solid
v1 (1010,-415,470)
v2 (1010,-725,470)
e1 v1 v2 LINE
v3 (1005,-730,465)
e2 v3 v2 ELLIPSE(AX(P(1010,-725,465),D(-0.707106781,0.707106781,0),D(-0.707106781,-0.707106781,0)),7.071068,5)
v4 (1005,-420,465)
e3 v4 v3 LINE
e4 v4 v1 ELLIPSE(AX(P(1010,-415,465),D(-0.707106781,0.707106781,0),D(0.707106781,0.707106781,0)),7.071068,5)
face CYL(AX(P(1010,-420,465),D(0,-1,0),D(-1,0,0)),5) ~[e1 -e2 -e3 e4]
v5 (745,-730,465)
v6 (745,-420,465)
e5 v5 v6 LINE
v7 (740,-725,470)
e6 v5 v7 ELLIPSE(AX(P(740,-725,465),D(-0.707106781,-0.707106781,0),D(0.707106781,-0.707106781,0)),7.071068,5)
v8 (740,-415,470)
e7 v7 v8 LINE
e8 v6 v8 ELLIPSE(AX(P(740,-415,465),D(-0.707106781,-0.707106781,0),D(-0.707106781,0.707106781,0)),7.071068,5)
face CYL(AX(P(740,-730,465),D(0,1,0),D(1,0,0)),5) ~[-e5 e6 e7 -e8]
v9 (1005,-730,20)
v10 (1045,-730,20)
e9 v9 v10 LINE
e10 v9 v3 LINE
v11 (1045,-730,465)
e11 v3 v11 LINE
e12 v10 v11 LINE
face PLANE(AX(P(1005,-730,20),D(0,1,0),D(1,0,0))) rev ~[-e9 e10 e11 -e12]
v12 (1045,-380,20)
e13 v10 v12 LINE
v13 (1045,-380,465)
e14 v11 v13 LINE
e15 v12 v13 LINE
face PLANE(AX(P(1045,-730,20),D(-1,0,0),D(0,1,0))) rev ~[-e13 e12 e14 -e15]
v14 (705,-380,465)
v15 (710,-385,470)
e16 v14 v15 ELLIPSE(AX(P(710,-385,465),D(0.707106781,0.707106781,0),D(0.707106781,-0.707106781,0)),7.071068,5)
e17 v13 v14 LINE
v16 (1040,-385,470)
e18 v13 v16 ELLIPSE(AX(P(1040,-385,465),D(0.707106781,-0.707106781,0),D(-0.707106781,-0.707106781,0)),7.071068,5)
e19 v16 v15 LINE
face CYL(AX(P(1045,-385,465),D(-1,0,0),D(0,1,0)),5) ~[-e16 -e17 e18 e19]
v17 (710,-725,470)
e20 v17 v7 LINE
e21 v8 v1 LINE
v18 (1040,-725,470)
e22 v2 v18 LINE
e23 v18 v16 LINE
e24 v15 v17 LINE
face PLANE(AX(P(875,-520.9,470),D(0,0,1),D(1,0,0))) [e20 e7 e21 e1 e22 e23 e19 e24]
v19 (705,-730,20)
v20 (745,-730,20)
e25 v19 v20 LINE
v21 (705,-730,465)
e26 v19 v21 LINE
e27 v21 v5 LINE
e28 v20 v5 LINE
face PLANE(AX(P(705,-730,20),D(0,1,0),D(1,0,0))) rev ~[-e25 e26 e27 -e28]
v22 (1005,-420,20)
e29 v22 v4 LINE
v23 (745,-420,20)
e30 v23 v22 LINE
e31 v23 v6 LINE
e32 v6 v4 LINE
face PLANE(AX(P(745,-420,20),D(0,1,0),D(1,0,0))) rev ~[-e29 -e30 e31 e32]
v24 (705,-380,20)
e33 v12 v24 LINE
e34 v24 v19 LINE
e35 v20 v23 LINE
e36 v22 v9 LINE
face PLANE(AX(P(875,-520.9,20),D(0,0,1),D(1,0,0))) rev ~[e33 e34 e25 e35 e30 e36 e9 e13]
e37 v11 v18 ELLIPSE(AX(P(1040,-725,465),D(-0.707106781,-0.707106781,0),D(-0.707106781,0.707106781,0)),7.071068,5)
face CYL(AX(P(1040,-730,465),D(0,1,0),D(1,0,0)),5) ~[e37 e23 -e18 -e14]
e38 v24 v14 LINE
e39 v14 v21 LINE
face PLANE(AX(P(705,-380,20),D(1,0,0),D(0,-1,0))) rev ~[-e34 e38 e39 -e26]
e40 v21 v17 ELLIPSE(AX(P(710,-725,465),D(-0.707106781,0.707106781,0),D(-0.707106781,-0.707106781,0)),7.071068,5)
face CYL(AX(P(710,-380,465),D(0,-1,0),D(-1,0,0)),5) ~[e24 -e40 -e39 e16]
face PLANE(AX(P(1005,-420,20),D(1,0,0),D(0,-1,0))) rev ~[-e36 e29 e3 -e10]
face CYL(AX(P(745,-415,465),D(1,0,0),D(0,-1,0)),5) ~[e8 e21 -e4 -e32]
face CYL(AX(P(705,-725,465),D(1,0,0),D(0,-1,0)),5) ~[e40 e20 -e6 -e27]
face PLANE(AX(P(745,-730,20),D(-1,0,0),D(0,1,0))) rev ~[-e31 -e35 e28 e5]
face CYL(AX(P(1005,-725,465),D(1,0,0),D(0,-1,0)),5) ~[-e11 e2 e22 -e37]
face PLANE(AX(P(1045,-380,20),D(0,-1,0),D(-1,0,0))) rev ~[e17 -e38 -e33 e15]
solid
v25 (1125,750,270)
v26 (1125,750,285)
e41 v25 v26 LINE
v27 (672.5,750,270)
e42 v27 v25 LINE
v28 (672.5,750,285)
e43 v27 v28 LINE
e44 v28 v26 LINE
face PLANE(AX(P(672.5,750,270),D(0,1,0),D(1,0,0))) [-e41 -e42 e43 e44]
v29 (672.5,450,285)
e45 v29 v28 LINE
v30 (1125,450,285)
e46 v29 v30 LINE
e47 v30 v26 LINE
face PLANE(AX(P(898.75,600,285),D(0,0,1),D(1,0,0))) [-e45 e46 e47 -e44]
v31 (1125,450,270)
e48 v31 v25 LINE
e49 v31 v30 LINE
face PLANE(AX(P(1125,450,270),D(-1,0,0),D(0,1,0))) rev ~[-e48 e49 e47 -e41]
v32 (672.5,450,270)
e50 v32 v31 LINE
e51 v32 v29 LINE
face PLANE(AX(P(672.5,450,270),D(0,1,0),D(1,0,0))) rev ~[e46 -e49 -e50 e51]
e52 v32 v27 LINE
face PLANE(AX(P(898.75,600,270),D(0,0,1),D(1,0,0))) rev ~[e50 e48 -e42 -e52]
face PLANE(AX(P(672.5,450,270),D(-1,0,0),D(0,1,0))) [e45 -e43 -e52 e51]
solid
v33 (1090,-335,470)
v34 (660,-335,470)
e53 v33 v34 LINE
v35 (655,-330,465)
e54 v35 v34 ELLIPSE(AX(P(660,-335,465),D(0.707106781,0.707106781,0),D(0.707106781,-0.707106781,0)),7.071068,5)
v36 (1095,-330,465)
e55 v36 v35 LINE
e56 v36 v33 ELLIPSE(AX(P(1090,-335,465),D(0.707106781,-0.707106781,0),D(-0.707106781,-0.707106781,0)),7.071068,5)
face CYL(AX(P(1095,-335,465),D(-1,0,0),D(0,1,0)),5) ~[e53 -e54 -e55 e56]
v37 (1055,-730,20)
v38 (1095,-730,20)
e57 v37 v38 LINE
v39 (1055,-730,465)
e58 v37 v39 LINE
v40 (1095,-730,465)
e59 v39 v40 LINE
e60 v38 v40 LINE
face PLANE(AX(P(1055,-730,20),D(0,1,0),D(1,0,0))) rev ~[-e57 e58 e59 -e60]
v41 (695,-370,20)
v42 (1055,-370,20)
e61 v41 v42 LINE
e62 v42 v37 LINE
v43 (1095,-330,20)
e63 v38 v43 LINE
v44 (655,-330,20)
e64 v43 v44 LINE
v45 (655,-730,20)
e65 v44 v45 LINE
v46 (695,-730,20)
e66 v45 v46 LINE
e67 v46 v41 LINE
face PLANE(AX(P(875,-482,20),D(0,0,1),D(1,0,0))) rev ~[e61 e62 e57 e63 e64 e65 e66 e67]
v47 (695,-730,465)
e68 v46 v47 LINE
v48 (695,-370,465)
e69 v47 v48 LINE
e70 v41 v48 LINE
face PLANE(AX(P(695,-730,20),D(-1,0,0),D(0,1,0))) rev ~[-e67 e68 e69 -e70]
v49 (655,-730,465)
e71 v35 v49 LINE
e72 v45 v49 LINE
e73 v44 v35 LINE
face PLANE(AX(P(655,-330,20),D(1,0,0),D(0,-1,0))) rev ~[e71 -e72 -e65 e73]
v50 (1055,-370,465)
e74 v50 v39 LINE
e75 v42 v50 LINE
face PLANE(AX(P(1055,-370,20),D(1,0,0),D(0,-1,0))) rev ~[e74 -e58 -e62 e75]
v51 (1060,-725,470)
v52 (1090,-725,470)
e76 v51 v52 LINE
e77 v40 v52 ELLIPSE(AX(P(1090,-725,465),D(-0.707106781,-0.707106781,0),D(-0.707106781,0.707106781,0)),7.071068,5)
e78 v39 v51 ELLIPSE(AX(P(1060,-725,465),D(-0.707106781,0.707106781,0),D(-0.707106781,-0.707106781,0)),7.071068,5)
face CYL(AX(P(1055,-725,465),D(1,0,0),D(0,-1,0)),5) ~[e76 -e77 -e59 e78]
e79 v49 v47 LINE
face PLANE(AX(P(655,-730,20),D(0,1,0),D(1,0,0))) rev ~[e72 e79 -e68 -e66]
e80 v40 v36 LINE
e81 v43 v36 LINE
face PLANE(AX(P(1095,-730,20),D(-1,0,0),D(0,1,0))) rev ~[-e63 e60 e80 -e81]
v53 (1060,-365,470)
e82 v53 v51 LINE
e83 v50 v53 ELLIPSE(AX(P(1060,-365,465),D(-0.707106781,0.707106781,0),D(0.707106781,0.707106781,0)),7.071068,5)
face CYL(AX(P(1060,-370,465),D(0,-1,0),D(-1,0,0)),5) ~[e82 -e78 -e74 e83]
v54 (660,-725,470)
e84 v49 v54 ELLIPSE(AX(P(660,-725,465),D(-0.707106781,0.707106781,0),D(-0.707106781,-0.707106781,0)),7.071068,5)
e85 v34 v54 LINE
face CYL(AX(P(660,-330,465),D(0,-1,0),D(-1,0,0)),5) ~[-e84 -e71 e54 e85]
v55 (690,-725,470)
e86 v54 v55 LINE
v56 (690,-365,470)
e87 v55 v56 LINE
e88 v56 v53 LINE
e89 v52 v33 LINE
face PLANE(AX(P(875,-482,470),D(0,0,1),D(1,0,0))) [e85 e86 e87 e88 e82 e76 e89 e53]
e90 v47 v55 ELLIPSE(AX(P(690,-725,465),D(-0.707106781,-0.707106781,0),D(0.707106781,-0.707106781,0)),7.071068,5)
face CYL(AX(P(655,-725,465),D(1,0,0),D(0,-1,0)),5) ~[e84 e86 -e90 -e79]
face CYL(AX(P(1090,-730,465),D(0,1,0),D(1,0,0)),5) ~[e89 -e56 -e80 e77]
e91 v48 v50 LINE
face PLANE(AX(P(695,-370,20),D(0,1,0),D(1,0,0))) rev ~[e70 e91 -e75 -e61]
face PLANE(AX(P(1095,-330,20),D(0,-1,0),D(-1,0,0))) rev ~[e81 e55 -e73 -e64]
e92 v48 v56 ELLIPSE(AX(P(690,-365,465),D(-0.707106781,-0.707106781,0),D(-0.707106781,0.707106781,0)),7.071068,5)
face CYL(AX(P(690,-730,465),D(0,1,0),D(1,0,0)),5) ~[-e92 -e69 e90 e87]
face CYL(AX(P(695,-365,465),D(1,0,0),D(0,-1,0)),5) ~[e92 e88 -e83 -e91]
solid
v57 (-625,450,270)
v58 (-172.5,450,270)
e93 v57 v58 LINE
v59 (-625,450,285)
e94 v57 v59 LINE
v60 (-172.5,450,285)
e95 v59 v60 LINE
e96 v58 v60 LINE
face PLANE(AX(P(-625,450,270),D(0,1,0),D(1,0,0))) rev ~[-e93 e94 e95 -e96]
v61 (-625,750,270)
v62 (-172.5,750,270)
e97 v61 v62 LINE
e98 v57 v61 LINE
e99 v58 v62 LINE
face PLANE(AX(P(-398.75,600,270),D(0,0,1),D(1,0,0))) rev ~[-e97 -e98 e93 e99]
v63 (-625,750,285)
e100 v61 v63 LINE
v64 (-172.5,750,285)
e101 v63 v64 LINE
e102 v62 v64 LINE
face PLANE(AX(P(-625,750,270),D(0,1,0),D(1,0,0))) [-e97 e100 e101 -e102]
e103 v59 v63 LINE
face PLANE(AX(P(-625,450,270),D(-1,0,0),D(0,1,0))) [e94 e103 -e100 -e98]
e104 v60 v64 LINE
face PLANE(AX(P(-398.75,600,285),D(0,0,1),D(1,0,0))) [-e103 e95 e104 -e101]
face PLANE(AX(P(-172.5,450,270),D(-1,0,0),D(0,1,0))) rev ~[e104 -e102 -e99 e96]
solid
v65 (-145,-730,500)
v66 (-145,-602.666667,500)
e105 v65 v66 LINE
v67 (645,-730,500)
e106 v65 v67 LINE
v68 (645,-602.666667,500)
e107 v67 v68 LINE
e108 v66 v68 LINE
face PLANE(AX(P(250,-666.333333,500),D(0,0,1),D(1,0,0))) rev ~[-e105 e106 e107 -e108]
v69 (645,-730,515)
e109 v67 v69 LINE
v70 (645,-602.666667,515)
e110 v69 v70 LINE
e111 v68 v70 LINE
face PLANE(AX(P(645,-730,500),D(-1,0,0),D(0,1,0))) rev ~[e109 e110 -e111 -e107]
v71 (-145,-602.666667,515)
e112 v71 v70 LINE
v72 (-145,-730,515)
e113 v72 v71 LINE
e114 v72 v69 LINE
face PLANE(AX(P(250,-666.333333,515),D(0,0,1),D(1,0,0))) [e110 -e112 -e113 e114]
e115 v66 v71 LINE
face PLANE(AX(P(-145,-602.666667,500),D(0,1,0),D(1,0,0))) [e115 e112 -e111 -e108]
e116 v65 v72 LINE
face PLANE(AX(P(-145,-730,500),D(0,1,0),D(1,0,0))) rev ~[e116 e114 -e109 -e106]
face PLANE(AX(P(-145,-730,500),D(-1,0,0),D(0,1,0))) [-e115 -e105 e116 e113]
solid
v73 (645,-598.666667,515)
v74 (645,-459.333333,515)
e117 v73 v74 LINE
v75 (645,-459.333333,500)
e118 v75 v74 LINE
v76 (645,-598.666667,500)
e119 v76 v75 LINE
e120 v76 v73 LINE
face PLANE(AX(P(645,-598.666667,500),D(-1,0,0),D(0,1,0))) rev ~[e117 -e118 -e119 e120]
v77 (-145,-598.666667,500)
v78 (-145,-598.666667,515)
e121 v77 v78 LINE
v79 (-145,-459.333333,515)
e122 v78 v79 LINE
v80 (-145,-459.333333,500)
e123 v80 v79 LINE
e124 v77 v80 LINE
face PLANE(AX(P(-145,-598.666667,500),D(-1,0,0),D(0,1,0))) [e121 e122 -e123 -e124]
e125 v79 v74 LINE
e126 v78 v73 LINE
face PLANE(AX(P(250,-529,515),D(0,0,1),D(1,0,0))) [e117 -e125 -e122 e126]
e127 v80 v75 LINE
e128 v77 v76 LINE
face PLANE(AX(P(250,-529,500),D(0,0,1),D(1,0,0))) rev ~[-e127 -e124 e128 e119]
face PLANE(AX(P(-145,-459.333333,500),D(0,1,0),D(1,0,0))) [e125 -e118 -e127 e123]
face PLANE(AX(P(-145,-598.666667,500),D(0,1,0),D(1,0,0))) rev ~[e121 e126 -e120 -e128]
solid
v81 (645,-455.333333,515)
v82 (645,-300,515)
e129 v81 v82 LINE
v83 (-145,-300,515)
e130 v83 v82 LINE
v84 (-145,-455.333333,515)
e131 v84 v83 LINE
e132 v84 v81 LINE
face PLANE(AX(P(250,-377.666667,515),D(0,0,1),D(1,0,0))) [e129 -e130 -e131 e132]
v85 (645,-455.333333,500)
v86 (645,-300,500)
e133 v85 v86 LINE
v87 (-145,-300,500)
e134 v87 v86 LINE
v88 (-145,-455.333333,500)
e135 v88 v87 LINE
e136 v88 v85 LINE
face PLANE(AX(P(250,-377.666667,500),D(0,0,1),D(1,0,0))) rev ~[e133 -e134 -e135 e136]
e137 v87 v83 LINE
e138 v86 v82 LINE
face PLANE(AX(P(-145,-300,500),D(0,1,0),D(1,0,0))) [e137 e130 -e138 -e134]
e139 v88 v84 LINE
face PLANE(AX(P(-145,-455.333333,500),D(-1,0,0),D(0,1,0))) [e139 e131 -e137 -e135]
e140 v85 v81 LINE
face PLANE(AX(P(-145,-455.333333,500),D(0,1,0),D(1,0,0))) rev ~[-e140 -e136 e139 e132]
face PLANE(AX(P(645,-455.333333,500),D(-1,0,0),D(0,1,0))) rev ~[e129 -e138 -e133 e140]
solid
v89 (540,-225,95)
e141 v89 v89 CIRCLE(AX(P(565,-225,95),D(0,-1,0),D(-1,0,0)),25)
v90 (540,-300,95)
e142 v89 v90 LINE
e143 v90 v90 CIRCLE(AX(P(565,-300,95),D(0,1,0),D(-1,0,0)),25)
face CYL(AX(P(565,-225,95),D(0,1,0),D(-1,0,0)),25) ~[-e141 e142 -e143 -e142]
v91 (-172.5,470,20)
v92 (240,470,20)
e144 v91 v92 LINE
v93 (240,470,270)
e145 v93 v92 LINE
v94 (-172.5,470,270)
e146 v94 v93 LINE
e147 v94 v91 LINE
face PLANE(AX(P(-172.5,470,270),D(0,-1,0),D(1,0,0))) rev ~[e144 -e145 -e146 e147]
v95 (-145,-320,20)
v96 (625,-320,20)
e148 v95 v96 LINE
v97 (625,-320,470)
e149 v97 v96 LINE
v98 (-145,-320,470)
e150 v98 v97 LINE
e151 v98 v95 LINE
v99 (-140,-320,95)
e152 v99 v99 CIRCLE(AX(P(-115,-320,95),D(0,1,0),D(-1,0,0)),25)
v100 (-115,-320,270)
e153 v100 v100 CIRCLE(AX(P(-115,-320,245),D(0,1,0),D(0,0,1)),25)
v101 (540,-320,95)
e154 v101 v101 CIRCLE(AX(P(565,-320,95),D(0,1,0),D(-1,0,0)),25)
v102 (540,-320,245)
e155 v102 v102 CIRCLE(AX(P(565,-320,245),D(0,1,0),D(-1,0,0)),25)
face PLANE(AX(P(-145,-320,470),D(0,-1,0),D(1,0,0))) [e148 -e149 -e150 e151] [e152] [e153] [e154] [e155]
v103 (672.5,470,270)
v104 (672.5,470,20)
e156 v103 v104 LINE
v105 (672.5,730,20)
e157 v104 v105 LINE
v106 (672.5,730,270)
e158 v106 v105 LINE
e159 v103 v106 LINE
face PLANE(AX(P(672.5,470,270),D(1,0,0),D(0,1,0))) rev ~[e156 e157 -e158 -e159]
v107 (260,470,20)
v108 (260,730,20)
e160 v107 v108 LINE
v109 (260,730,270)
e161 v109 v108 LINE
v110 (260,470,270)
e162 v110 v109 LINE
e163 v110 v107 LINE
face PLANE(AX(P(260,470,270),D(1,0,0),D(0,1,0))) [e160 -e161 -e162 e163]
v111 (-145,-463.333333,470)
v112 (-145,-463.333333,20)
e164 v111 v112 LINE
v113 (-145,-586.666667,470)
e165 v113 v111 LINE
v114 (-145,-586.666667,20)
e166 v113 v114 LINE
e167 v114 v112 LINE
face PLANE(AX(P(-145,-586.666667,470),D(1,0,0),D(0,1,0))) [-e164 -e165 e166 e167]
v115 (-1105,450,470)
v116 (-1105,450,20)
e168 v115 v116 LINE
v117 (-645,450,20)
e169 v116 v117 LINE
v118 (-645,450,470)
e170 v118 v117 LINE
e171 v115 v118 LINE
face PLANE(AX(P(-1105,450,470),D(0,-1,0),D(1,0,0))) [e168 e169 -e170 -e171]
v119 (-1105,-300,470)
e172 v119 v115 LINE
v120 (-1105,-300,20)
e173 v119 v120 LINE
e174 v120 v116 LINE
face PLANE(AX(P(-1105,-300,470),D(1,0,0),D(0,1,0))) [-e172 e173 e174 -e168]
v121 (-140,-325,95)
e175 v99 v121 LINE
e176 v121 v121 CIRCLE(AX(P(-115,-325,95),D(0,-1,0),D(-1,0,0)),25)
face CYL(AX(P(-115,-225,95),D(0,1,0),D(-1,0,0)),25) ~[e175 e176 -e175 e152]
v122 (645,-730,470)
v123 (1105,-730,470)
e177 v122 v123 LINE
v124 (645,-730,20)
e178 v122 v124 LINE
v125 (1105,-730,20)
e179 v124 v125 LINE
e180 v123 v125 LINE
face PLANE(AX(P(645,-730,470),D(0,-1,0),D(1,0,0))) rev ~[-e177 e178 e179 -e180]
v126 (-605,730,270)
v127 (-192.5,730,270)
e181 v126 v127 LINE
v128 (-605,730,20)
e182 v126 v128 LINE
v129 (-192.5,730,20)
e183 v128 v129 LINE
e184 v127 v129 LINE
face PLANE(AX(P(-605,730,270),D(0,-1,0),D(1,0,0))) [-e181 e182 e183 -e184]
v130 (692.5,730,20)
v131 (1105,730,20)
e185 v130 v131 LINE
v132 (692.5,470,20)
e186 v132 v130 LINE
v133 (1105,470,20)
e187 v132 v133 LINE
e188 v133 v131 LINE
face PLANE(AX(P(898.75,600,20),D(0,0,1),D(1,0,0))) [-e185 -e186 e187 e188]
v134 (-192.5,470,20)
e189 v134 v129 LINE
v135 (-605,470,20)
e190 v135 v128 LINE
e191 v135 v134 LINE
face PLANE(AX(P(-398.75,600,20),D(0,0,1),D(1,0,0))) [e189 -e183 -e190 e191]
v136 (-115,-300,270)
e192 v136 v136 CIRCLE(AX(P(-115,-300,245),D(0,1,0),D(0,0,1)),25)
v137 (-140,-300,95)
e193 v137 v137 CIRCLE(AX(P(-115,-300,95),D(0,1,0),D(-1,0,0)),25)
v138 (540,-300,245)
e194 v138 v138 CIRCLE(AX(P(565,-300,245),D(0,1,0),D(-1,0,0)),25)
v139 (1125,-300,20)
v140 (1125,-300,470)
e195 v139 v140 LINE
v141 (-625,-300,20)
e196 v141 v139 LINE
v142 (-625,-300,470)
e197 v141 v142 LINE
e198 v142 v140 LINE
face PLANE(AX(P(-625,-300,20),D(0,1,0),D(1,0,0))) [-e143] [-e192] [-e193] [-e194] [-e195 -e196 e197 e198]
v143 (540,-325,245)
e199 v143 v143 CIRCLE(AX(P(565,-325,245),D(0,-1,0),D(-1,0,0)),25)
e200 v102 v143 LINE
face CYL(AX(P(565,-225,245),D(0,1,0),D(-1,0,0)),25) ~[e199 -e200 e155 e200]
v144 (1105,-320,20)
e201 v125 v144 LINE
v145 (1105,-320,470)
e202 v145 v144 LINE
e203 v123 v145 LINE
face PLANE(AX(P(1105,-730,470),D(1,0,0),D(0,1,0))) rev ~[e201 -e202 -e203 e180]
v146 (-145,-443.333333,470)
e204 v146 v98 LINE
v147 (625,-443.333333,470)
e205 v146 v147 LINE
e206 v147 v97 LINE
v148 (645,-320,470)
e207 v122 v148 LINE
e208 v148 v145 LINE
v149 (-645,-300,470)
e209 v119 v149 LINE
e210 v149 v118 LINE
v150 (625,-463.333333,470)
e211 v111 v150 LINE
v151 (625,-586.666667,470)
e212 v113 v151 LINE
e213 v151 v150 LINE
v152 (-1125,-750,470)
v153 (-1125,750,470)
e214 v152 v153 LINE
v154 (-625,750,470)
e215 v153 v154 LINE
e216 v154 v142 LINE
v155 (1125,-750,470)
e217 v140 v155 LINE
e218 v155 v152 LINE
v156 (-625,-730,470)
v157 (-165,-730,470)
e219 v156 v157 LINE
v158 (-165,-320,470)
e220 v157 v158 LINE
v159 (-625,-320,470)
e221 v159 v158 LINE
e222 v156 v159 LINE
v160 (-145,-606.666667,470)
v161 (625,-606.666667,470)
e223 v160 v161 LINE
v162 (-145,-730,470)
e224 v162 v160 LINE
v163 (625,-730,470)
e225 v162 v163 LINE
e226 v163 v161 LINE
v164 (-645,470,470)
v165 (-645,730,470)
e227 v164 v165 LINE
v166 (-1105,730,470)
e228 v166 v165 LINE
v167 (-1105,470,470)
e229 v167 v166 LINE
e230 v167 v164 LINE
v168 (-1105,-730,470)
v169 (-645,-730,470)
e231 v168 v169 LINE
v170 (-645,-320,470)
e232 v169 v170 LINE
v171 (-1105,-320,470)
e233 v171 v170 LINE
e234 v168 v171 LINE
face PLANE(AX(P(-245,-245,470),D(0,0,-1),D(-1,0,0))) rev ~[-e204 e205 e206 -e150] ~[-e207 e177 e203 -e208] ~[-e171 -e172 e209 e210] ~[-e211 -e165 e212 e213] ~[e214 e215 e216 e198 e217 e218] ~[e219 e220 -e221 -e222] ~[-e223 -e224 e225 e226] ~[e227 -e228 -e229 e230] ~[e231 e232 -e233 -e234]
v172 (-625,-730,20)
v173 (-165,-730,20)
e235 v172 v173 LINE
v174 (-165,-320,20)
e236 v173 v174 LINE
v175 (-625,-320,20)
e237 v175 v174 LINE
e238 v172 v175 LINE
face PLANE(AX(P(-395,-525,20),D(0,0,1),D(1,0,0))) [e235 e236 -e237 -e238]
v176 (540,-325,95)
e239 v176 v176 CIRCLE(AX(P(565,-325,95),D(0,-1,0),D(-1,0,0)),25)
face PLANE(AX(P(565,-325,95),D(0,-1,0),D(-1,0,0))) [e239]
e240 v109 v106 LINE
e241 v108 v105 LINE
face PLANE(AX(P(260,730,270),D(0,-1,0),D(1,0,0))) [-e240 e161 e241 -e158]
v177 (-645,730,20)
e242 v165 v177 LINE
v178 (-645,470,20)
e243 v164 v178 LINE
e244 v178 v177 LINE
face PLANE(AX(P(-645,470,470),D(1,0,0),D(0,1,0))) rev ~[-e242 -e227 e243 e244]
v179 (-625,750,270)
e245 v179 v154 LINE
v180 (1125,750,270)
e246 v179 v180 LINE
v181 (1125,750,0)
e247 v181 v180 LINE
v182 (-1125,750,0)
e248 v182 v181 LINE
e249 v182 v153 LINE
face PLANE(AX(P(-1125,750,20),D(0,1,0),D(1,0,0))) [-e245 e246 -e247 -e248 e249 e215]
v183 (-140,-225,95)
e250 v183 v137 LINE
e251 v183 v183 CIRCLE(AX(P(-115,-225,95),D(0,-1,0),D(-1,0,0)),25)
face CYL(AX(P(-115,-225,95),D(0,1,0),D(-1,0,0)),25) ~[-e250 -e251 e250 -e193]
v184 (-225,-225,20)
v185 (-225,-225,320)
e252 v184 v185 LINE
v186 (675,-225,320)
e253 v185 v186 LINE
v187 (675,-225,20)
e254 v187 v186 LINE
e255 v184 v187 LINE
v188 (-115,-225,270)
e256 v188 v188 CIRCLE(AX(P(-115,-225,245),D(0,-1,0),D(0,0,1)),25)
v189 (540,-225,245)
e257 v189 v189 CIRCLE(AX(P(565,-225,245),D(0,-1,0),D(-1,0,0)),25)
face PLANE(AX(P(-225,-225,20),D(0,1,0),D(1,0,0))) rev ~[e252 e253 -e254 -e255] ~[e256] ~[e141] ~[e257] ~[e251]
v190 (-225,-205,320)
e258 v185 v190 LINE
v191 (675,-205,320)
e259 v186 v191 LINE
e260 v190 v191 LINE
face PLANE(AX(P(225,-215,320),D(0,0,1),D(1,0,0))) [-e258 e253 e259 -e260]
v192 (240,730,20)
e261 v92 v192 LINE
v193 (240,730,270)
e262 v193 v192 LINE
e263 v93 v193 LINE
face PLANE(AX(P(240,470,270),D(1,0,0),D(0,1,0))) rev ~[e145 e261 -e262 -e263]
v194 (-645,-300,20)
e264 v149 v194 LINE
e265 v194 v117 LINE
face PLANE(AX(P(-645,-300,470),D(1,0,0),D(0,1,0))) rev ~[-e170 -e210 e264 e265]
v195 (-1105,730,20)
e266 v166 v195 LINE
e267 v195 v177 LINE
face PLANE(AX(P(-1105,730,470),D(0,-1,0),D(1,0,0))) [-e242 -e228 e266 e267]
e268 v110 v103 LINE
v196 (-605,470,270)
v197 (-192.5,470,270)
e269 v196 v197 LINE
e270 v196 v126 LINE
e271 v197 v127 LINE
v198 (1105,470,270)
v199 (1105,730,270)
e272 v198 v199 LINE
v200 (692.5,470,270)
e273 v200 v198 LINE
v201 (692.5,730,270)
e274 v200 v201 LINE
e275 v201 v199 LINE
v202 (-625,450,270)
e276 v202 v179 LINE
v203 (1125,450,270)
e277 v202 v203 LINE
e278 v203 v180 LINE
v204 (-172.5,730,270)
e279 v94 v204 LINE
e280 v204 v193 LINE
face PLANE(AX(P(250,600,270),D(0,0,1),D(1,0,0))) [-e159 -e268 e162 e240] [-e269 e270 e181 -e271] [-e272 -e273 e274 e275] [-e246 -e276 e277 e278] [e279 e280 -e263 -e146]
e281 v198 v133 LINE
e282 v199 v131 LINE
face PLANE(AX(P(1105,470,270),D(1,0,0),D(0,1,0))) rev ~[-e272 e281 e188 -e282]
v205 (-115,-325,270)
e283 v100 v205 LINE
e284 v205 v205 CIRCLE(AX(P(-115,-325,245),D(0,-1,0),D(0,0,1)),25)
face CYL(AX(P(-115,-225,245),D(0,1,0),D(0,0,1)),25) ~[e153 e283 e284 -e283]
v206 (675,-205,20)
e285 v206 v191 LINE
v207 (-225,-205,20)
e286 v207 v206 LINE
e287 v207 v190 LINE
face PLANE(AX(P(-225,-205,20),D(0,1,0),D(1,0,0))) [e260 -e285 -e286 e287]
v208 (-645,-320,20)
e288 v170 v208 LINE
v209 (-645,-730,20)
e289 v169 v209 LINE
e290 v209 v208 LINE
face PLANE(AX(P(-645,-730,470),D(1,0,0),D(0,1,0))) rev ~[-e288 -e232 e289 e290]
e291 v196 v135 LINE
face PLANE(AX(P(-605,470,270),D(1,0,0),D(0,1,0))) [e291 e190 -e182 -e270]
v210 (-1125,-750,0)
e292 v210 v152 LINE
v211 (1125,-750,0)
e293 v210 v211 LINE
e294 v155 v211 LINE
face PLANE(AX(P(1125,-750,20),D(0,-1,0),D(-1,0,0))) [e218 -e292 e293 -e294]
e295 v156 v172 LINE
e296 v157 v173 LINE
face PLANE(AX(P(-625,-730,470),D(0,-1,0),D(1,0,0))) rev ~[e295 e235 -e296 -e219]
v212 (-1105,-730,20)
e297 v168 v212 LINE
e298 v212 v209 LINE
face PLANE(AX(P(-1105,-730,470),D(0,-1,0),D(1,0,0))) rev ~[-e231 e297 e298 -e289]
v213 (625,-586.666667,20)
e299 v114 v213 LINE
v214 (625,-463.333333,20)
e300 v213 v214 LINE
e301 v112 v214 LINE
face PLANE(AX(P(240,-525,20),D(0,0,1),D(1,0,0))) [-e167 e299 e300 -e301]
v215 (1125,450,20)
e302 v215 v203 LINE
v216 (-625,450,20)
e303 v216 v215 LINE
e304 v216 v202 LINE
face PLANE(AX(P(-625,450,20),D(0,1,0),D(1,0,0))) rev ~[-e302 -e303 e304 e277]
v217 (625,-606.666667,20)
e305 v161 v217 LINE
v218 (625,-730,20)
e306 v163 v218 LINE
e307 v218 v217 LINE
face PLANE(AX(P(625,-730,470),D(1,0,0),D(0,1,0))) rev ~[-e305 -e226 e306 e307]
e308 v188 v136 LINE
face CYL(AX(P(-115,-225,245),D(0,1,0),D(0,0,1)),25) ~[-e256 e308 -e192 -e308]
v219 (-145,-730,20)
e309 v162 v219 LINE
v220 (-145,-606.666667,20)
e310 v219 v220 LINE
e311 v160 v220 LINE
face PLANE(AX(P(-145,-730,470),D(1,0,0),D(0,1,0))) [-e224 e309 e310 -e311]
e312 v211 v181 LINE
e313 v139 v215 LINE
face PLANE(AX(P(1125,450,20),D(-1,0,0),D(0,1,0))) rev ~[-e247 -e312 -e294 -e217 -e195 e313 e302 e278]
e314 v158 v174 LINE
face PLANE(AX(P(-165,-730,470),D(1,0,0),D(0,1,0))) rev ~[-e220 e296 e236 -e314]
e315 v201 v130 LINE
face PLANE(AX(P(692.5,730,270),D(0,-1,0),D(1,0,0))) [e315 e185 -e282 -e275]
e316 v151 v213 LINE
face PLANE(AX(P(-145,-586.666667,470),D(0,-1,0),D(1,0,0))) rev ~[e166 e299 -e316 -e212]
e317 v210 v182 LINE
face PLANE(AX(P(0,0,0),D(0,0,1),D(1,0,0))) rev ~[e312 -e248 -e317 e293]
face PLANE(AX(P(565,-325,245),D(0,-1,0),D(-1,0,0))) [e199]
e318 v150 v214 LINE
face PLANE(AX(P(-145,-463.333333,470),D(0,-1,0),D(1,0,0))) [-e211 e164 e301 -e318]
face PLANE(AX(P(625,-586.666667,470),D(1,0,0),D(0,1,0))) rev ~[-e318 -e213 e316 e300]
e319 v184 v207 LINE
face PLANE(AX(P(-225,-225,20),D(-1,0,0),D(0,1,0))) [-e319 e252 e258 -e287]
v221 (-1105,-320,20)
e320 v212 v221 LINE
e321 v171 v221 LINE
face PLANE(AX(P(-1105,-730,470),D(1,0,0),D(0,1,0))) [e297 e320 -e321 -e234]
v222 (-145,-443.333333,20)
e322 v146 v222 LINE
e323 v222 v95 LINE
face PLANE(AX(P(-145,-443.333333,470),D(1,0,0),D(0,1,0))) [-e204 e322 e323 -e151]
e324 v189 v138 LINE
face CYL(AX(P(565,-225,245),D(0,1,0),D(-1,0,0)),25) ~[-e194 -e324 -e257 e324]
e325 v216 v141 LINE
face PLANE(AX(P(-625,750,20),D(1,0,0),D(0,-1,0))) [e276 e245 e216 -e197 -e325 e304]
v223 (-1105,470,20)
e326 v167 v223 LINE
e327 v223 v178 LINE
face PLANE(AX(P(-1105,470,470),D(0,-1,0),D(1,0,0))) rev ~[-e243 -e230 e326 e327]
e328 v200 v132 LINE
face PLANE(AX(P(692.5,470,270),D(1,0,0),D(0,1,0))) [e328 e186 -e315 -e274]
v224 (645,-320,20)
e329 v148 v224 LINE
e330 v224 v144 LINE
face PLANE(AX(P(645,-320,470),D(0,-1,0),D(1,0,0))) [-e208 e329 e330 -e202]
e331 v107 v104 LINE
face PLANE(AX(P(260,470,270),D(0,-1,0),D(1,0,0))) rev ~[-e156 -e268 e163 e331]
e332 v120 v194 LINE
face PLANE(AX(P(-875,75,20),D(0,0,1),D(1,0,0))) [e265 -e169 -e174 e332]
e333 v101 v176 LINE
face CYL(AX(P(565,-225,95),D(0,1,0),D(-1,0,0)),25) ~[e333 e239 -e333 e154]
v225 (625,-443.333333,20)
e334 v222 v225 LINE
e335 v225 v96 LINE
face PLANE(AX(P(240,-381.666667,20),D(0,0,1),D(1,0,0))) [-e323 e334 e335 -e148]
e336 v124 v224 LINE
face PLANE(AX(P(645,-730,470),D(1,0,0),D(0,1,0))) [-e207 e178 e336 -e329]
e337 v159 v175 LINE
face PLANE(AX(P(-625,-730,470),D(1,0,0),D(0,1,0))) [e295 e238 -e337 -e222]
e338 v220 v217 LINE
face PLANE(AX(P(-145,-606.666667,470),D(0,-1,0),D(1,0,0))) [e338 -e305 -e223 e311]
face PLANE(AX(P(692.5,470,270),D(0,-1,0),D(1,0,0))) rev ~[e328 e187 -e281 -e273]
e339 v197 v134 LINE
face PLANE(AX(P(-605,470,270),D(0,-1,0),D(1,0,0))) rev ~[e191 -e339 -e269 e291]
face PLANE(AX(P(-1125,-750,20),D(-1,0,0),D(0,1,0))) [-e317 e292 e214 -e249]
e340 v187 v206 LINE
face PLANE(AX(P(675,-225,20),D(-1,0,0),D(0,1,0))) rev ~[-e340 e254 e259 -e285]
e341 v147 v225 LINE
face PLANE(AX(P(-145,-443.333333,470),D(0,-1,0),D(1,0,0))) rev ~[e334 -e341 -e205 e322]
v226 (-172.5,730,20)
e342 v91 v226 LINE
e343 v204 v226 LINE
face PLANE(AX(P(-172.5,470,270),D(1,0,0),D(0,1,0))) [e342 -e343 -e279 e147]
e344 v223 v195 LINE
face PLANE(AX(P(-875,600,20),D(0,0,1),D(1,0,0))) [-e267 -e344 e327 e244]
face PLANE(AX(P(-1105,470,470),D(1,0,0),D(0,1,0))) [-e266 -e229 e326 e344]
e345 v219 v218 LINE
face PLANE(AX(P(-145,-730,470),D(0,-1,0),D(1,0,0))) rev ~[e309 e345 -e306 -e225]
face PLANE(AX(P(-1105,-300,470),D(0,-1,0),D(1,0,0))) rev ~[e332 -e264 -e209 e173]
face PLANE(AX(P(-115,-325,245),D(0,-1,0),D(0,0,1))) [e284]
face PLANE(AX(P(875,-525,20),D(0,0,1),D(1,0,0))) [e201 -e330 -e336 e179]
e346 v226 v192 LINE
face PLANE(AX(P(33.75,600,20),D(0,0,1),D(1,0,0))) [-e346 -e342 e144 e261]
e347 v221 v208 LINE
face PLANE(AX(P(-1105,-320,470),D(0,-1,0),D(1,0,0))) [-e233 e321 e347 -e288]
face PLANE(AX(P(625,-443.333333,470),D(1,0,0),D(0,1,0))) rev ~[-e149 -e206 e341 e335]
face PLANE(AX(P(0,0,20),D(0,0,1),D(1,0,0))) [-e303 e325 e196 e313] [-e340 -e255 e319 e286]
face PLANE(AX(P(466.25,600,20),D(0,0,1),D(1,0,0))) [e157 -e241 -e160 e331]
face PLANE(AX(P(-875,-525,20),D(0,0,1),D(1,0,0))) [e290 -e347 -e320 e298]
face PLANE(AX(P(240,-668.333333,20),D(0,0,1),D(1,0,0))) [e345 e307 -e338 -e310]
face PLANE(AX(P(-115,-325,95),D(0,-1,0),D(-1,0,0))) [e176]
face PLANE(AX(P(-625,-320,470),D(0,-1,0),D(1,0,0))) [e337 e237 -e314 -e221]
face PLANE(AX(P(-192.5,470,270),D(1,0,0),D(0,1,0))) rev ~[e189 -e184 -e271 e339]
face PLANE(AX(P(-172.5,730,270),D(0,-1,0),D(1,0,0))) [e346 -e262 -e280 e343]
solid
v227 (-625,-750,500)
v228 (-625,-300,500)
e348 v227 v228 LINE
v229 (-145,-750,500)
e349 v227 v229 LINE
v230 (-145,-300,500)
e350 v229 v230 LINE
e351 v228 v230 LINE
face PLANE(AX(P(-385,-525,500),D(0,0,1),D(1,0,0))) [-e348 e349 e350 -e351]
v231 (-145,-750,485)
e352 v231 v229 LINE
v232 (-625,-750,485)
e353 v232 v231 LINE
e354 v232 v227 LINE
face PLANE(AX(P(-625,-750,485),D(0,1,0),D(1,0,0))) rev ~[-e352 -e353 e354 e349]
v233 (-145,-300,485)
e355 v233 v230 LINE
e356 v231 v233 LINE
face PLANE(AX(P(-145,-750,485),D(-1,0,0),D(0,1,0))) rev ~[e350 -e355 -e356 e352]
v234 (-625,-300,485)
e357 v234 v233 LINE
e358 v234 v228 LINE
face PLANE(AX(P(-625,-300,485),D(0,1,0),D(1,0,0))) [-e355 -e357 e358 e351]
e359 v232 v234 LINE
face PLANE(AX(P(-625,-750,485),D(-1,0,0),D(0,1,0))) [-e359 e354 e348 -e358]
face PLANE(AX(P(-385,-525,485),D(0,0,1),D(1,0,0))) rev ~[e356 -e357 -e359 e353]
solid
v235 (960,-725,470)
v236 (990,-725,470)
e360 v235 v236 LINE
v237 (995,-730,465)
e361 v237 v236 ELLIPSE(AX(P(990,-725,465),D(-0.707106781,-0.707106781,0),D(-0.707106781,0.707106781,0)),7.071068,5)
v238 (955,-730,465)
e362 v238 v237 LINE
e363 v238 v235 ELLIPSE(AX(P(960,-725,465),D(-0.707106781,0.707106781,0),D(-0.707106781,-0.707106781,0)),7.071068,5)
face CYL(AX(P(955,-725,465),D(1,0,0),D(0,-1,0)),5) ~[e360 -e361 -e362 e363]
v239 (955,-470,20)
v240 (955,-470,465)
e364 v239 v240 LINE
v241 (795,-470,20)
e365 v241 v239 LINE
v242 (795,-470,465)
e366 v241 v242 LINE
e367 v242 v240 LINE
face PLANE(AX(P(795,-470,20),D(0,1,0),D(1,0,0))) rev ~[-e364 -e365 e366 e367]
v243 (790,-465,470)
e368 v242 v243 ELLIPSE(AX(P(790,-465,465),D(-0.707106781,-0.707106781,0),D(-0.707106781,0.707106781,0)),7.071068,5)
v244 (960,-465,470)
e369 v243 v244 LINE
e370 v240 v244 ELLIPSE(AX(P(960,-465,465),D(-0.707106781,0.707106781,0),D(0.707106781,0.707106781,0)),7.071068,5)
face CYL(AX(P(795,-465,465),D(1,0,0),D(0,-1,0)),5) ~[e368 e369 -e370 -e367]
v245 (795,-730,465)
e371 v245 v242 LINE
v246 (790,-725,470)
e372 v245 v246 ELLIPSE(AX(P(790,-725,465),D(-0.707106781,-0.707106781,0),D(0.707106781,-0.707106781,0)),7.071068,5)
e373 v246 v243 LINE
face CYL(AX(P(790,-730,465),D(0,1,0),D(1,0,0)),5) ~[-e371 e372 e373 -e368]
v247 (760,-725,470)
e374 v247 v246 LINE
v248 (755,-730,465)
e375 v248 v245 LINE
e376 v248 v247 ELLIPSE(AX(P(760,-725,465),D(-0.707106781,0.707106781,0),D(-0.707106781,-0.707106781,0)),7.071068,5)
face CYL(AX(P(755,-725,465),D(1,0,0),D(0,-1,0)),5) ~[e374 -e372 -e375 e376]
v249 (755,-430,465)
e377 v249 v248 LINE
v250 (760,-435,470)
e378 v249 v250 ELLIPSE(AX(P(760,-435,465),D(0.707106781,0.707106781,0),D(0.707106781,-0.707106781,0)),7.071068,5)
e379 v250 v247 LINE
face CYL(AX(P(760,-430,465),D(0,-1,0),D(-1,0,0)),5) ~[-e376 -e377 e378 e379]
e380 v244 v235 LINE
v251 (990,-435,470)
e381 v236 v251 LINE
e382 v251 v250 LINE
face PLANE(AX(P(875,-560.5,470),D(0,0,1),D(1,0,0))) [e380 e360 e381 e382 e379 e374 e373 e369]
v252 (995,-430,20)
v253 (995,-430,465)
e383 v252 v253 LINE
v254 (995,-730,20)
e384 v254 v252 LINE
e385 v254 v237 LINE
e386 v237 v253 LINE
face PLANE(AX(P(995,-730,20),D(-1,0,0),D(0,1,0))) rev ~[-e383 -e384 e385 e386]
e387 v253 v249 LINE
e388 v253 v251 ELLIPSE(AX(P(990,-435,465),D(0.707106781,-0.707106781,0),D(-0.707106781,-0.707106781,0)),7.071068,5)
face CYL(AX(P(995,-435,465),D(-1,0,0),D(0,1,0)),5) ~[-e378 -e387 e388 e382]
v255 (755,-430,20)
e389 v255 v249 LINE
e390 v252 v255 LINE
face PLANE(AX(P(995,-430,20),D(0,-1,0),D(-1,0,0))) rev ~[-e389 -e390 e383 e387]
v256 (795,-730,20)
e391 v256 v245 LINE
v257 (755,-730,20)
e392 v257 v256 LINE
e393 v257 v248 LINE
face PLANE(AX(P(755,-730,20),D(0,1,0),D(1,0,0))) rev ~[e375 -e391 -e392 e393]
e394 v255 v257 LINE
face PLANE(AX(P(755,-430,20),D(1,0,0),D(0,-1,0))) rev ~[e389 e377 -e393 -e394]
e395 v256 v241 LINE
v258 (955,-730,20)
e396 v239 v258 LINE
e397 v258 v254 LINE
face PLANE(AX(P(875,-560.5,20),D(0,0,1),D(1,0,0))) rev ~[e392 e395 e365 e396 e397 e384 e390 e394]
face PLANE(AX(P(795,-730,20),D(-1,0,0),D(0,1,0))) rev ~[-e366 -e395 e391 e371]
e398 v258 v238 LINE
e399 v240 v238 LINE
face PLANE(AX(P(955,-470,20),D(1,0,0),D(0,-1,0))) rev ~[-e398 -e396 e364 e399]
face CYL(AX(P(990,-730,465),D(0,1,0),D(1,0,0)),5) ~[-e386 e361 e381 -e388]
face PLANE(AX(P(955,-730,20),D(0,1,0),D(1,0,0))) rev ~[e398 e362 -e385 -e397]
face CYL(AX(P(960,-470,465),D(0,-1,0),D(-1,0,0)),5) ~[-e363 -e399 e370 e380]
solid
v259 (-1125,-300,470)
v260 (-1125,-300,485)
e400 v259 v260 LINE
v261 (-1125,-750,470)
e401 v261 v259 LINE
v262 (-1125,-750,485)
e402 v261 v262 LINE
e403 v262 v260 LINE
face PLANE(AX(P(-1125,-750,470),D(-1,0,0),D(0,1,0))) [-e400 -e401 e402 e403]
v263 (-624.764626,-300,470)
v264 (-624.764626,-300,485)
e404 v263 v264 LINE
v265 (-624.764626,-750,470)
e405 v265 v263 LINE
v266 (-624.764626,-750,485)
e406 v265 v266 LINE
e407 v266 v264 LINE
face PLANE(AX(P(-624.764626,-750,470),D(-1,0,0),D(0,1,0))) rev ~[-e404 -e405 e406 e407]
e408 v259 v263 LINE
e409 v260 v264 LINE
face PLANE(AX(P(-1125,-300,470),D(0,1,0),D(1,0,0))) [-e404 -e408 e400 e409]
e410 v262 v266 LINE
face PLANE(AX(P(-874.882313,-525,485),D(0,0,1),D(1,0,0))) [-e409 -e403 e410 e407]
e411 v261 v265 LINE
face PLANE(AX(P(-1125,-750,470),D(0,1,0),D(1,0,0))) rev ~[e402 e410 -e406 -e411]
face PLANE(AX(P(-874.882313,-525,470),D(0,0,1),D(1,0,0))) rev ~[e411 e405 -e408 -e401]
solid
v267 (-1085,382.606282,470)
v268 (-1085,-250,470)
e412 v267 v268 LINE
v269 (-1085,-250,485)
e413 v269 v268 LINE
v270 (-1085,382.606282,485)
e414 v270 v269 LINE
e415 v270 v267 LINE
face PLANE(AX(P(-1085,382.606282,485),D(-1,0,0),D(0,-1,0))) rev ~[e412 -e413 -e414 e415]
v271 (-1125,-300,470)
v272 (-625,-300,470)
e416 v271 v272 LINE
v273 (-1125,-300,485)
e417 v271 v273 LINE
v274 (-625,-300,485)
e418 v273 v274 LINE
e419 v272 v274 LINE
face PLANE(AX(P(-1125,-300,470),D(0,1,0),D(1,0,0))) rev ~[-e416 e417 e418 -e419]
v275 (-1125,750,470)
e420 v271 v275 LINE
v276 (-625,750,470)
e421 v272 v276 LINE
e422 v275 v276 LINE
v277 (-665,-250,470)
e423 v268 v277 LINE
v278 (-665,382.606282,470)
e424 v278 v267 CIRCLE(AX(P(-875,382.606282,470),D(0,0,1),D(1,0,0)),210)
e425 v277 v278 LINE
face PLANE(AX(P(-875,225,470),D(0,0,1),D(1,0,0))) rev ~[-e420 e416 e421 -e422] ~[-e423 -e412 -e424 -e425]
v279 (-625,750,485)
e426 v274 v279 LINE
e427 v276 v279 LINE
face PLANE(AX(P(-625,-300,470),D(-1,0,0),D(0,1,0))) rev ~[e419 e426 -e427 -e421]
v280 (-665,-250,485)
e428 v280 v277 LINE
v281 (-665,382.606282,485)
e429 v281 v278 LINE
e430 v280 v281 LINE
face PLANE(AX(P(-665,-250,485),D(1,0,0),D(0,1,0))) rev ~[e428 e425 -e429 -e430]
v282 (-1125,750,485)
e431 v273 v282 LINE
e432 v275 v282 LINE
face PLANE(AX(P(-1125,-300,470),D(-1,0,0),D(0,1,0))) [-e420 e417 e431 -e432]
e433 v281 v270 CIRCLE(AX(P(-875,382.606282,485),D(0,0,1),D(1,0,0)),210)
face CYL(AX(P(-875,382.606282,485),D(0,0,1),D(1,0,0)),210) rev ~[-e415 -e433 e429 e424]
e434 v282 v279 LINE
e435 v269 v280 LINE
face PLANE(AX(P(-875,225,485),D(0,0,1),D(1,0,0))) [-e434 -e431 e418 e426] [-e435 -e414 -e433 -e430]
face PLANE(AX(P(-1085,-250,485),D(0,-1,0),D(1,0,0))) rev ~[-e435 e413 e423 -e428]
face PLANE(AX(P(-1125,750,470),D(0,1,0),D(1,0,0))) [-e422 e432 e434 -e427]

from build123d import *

# Parameters (mm, degrees)
SKETCH1_W              = 2250
SKETCH1_H              = 1500
BOSS_EXTRUDE1_DEPTH    = 20
BOSS_EXTRUDE2_DEPTH    = 450
SKETCH4_W              = 1750
SKETCH4_H              = 300
BOSS_EXTRUDE3_DEPTH    = 250
SKETCH5_W              = 412.5
SKETCH5_H              = 260
CUT_EXTRUDE1_DEPTH     = 250
SKETCH6_W              = 460
SKETCH6_H              = 260
SKETCH6_H_2            = 750
SKETCH6_H_3            = 410
SKETCH6_W_2            = 770
SKETCH6_H_4            = 123.333333333
SKETCH6_H_5            = 123.333333334
CUT_EXTRUDE2_DEPTH     = 450
SKETCH7_W              = 900
SKETCH7_H              = 20
BOSS_EXTRUDE6_DEPTH    = 300
SKETCH10_R             = 25
BOSS_EXTRUDE7_DEPTH    = 100
BOSS_EXTRUDE8_DEPTH    = 450
BOSS_EXTRUDE8_2_DEPTH  = 450
BOSS_EXTRUDE8_3_DEPTH  = 450
FILLET1_R              = 5
FILLET2_R              = 5
FILLET3_R              = 5
SKETCH13_W             = 452.5
SKETCH13_H             = 300
BOSS_EXTRUDE9_DEPTH    = 15
BOSS_EXTRUDE9_2_DEPTH  = 15
SKETCH14_W             = 500
SKETCH14_H             = 1050
BOSS_EXTRUDE10_DEPTH   = 15
SKETCH15_W             = 500.235374178
SKETCH15_H             = 450
BOSS_EXTRUDE11_DEPTH   = 15
SKETCH16_W             = 480
SKETCH16_H             = 450
BOSS_EXTRUDE12_DEPTH   = 15
SKETCH17_W             = 790
SKETCH17_H             = 155.333333333
BOSS_EXTRUDE13_DEPTH   = 15
SKETCH17_H_2           = 139.333333334
BOSS_EXTRUDE13_2_DEPTH = 15
SKETCH17_H_3           = 127.333333333
BOSS_EXTRUDE13_3_DEPTH = 15
CUT_EXTRUDE3_DEPTH     = 15


with BuildPart() as part:
    # Sketch1 → Boss-Extrude1 (new body)
    with BuildSketch(Plane.XY):
        Rectangle(SKETCH1_W, SKETCH1_H)
    extrude(amount=BOSS_EXTRUDE1_DEPTH)

    # Sketch2 → Boss-Extrude2 (add)
    with BuildSketch(Plane.XY.offset(20)):
        Polygon((-625, 750), (-625, -300), (1125, -300), (1125, -750), (-1125, -750), (-1125, 750), align=None)
    extrude(amount=BOSS_EXTRUDE2_DEPTH)

    # Sketch4 → Boss-Extrude3 (add)
    with BuildSketch(Plane.XY.offset(20)):
        with Locations((250, 600)):
            Rectangle(SKETCH4_W, SKETCH4_H)
    extrude(amount=BOSS_EXTRUDE3_DEPTH)

    # Sketch5 → Cut-Extrude1 (cut)
    with BuildSketch(Plane.XY.offset(270)):
        with Locations((-398.75, 600)):
            Rectangle(SKETCH5_W, SKETCH5_H)
        with Locations((33.75, 600)):
            Rectangle(SKETCH5_W, SKETCH5_H)
        with Locations((466.25, 600)):
            Rectangle(SKETCH5_W, SKETCH5_H)
        with Locations((898.75, 600)):
            Rectangle(SKETCH5_W, SKETCH5_H)
    extrude(amount=-CUT_EXTRUDE1_DEPTH, mode=Mode.SUBTRACT)

    # Sketch6 → Cut-Extrude2 (cut)
    with BuildSketch(Plane.XY.offset(470)):
        with Locations((-875, 600)):
            Rectangle(SKETCH6_W, SKETCH6_H)
        with Locations((-875, 75)):
            Rectangle(SKETCH6_W, SKETCH6_H_2)
        with Locations((-875, -525)):
            Rectangle(SKETCH6_W, SKETCH6_H_3)
        with Locations((-395, -525)):
            Rectangle(SKETCH6_W, SKETCH6_H_3)
        with Locations((875, -525)):
            Rectangle(SKETCH6_W, SKETCH6_H_3)
        with Locations((240, -381.666666667)):
            Rectangle(SKETCH6_W_2, SKETCH6_H_4)
        with Locations((240, -525)):
            Rectangle(SKETCH6_W_2, SKETCH6_H_5)
        with Locations((240, -668.333333334)):
            Rectangle(SKETCH6_W_2, SKETCH6_H_4)
    extrude(amount=-CUT_EXTRUDE2_DEPTH, mode=Mode.SUBTRACT)



with BuildPart() as body_2:
    # Sketch7 → Boss-Extrude6 (new body)
    with BuildSketch(Plane.XY.offset(20)):
        with Locations((225, -215)):
            Rectangle(SKETCH7_W, SKETCH7_H)
    extrude(amount=BOSS_EXTRUDE6_DEPTH)


with BuildPart() as part_1:
    add(part.part)

    add(body_2.part)  # Boss-Extrude7 merges body 2
    # Sketch10 → Boss-Extrude7 (add)
    with BuildSketch(Plane.XZ.offset(225)):
        with Locations(Location((-115, 245, 0), (0, 0, 90))):
            Circle(SKETCH10_R)
        with Locations(Location((-115, 95, 0), (0, 0, 180))):
            Circle(SKETCH10_R)
        with Locations(Location((565, 245, 0), (0, 0, 180))):
            Circle(SKETCH10_R)
        with Locations(Location((565, 95, 0), (0, 0, 180))):
            Circle(SKETCH10_R)
    extrude(amount=BOSS_EXTRUDE7_DEPTH)


with BuildPart() as body_2_2:
    # Sketch11 → Boss-Extrude8 (new body)
    with BuildSketch(Plane.XY.offset(20)):
        Polygon((1095, -330), (655, -330), (655, -730), (695, -730), (695, -370), (1055, -370), (1055, -730), (1095, -730), align=None)
    extrude(amount=BOSS_EXTRUDE8_DEPTH)

    # Fillet1
    fillet1_edges = [body_2_2.edges().sort_by_distance(p)[0] for p in [
        (655, -530, 470),
        (675, -730, 470),
        (695, -550, 470),
        (875, -330, 470),
        (1095, -530, 470),
        (875, -370, 470),
        (1055, -550, 470),
        (1075, -730, 470),
    ]]
    fillet(fillet1_edges, radius=FILLET1_R)


with BuildPart() as body_3:
    # Sketch11 → Boss-Extrude8 2 (new body)
    with BuildSketch(Plane.XY.offset(20)):
        Polygon((705, -380), (705, -730), (745, -730), (745, -420), (1005, -420), (1005, -730), (1045, -730), (1045, -380), align=None)
    extrude(amount=BOSS_EXTRUDE8_2_DEPTH)

    # Fillet2
    fillet2_edges = [body_3.edges().sort_by_distance(p)[0] for p in [
        (705, -555, 470),
        (725, -730, 470),
        (745, -575, 470),
        (875, -380, 470),
        (1045, -555, 470),
        (875, -420, 470),
        (1005, -575, 470),
        (1025, -730, 470),
    ]]
    fillet(fillet2_edges, radius=FILLET2_R)


with BuildPart() as body_4:
    # Sketch11 → Boss-Extrude8 3 (new body)
    with BuildSketch(Plane.XY.offset(20)):
        Polygon((755, -430), (755, -730), (795, -730), (795, -470), (955, -470), (955, -730), (995, -730), (995, -430), align=None)
    extrude(amount=BOSS_EXTRUDE8_3_DEPTH)

    # Fillet3
    fillet3_edges = [body_4.edges().sort_by_distance(p)[0] for p in [
        (755, -580, 470),
        (775, -730, 470),
        (795, -600, 470),
        (875, -430, 470),
        (995, -580, 470),
        (875, -470, 470),
        (955, -600, 470),
        (975, -730, 470),
    ]]
    fillet(fillet3_edges, radius=FILLET3_R)


with BuildPart() as body_5:
    # Sketch13 → Boss-Extrude9 (new body)
    with BuildSketch(Plane.XY.offset(270)):
        with Locations((-398.75, 600)):
            Rectangle(SKETCH13_W, SKETCH13_H)
    extrude(amount=BOSS_EXTRUDE9_DEPTH)


with BuildPart() as body_6:
    # Sketch13 → Boss-Extrude9 2 (new body)
    with BuildSketch(Plane.XY.offset(270)):
        with Locations((898.75, 600)):
            Rectangle(SKETCH13_W, SKETCH13_H)
    extrude(amount=BOSS_EXTRUDE9_2_DEPTH)


with BuildPart() as body_7:
    # Sketch14 → Boss-Extrude10 (new body)
    with BuildSketch(Plane.XY.offset(470)):
        with Locations((-875, 225)):
            Rectangle(SKETCH14_W, SKETCH14_H)
    extrude(amount=BOSS_EXTRUDE10_DEPTH)

    # Sketch18 → Cut-Extrude3 (cut)
    with BuildSketch(Plane.XY.offset(485)):
        with BuildLine():
            Line((-1085, 382.606281643), (-1085, -250))
            Line((-1085, -250), (-665, -250))
            Line((-665, -250), (-665, 382.606281643))
            ThreePointArc((-665, 382.606281643), (-875, 592.606281643), (-1085, 382.606281643))
        make_face()
    extrude(amount=-CUT_EXTRUDE3_DEPTH, mode=Mode.SUBTRACT)


with BuildPart() as body_8:
    # Sketch15 → Boss-Extrude11 (new body)
    with BuildSketch(Plane.XY.offset(470)):
        with Locations((-874.882312911, -525)):
            Rectangle(SKETCH15_W, SKETCH15_H)
    extrude(amount=BOSS_EXTRUDE11_DEPTH)


with BuildPart() as body_9:
    # Sketch16 → Boss-Extrude12 (new body)
    with BuildSketch(Plane.XY.offset(485)):
        with Locations((-385, -525)):
            Rectangle(SKETCH16_W, SKETCH16_H)
    extrude(amount=BOSS_EXTRUDE12_DEPTH)


with BuildPart() as body_10:
    # Sketch17 → Boss-Extrude13 (new body)
    with BuildSketch(Plane.XY.offset(500)):
        with Locations((250, -377.666666667)):
            Rectangle(SKETCH17_W, SKETCH17_H)
    extrude(amount=BOSS_EXTRUDE13_DEPTH)


with BuildPart() as body_11:
    # Sketch17 → Boss-Extrude13 2 (new body)
    with BuildSketch(Plane.XY.offset(500)):
        with Locations((250, -529)):
            Rectangle(SKETCH17_W, SKETCH17_H_2)
    extrude(amount=BOSS_EXTRUDE13_2_DEPTH)


with BuildPart() as body_12:
    # Sketch17 → Boss-Extrude13 3 (new body)
    with BuildSketch(Plane.XY.offset(500)):
        with Locations((250, -666.333333334)):
            Rectangle(SKETCH17_W, SKETCH17_H_3)
    extrude(amount=BOSS_EXTRUDE13_3_DEPTH)


solid = Compound([part_1.part, body_2_2.part, body_3.part, body_4.part, body_5.part, body_6.part, body_7.part, body_8.part, body_9.part, body_10.part, body_11.part, body_12.part])
